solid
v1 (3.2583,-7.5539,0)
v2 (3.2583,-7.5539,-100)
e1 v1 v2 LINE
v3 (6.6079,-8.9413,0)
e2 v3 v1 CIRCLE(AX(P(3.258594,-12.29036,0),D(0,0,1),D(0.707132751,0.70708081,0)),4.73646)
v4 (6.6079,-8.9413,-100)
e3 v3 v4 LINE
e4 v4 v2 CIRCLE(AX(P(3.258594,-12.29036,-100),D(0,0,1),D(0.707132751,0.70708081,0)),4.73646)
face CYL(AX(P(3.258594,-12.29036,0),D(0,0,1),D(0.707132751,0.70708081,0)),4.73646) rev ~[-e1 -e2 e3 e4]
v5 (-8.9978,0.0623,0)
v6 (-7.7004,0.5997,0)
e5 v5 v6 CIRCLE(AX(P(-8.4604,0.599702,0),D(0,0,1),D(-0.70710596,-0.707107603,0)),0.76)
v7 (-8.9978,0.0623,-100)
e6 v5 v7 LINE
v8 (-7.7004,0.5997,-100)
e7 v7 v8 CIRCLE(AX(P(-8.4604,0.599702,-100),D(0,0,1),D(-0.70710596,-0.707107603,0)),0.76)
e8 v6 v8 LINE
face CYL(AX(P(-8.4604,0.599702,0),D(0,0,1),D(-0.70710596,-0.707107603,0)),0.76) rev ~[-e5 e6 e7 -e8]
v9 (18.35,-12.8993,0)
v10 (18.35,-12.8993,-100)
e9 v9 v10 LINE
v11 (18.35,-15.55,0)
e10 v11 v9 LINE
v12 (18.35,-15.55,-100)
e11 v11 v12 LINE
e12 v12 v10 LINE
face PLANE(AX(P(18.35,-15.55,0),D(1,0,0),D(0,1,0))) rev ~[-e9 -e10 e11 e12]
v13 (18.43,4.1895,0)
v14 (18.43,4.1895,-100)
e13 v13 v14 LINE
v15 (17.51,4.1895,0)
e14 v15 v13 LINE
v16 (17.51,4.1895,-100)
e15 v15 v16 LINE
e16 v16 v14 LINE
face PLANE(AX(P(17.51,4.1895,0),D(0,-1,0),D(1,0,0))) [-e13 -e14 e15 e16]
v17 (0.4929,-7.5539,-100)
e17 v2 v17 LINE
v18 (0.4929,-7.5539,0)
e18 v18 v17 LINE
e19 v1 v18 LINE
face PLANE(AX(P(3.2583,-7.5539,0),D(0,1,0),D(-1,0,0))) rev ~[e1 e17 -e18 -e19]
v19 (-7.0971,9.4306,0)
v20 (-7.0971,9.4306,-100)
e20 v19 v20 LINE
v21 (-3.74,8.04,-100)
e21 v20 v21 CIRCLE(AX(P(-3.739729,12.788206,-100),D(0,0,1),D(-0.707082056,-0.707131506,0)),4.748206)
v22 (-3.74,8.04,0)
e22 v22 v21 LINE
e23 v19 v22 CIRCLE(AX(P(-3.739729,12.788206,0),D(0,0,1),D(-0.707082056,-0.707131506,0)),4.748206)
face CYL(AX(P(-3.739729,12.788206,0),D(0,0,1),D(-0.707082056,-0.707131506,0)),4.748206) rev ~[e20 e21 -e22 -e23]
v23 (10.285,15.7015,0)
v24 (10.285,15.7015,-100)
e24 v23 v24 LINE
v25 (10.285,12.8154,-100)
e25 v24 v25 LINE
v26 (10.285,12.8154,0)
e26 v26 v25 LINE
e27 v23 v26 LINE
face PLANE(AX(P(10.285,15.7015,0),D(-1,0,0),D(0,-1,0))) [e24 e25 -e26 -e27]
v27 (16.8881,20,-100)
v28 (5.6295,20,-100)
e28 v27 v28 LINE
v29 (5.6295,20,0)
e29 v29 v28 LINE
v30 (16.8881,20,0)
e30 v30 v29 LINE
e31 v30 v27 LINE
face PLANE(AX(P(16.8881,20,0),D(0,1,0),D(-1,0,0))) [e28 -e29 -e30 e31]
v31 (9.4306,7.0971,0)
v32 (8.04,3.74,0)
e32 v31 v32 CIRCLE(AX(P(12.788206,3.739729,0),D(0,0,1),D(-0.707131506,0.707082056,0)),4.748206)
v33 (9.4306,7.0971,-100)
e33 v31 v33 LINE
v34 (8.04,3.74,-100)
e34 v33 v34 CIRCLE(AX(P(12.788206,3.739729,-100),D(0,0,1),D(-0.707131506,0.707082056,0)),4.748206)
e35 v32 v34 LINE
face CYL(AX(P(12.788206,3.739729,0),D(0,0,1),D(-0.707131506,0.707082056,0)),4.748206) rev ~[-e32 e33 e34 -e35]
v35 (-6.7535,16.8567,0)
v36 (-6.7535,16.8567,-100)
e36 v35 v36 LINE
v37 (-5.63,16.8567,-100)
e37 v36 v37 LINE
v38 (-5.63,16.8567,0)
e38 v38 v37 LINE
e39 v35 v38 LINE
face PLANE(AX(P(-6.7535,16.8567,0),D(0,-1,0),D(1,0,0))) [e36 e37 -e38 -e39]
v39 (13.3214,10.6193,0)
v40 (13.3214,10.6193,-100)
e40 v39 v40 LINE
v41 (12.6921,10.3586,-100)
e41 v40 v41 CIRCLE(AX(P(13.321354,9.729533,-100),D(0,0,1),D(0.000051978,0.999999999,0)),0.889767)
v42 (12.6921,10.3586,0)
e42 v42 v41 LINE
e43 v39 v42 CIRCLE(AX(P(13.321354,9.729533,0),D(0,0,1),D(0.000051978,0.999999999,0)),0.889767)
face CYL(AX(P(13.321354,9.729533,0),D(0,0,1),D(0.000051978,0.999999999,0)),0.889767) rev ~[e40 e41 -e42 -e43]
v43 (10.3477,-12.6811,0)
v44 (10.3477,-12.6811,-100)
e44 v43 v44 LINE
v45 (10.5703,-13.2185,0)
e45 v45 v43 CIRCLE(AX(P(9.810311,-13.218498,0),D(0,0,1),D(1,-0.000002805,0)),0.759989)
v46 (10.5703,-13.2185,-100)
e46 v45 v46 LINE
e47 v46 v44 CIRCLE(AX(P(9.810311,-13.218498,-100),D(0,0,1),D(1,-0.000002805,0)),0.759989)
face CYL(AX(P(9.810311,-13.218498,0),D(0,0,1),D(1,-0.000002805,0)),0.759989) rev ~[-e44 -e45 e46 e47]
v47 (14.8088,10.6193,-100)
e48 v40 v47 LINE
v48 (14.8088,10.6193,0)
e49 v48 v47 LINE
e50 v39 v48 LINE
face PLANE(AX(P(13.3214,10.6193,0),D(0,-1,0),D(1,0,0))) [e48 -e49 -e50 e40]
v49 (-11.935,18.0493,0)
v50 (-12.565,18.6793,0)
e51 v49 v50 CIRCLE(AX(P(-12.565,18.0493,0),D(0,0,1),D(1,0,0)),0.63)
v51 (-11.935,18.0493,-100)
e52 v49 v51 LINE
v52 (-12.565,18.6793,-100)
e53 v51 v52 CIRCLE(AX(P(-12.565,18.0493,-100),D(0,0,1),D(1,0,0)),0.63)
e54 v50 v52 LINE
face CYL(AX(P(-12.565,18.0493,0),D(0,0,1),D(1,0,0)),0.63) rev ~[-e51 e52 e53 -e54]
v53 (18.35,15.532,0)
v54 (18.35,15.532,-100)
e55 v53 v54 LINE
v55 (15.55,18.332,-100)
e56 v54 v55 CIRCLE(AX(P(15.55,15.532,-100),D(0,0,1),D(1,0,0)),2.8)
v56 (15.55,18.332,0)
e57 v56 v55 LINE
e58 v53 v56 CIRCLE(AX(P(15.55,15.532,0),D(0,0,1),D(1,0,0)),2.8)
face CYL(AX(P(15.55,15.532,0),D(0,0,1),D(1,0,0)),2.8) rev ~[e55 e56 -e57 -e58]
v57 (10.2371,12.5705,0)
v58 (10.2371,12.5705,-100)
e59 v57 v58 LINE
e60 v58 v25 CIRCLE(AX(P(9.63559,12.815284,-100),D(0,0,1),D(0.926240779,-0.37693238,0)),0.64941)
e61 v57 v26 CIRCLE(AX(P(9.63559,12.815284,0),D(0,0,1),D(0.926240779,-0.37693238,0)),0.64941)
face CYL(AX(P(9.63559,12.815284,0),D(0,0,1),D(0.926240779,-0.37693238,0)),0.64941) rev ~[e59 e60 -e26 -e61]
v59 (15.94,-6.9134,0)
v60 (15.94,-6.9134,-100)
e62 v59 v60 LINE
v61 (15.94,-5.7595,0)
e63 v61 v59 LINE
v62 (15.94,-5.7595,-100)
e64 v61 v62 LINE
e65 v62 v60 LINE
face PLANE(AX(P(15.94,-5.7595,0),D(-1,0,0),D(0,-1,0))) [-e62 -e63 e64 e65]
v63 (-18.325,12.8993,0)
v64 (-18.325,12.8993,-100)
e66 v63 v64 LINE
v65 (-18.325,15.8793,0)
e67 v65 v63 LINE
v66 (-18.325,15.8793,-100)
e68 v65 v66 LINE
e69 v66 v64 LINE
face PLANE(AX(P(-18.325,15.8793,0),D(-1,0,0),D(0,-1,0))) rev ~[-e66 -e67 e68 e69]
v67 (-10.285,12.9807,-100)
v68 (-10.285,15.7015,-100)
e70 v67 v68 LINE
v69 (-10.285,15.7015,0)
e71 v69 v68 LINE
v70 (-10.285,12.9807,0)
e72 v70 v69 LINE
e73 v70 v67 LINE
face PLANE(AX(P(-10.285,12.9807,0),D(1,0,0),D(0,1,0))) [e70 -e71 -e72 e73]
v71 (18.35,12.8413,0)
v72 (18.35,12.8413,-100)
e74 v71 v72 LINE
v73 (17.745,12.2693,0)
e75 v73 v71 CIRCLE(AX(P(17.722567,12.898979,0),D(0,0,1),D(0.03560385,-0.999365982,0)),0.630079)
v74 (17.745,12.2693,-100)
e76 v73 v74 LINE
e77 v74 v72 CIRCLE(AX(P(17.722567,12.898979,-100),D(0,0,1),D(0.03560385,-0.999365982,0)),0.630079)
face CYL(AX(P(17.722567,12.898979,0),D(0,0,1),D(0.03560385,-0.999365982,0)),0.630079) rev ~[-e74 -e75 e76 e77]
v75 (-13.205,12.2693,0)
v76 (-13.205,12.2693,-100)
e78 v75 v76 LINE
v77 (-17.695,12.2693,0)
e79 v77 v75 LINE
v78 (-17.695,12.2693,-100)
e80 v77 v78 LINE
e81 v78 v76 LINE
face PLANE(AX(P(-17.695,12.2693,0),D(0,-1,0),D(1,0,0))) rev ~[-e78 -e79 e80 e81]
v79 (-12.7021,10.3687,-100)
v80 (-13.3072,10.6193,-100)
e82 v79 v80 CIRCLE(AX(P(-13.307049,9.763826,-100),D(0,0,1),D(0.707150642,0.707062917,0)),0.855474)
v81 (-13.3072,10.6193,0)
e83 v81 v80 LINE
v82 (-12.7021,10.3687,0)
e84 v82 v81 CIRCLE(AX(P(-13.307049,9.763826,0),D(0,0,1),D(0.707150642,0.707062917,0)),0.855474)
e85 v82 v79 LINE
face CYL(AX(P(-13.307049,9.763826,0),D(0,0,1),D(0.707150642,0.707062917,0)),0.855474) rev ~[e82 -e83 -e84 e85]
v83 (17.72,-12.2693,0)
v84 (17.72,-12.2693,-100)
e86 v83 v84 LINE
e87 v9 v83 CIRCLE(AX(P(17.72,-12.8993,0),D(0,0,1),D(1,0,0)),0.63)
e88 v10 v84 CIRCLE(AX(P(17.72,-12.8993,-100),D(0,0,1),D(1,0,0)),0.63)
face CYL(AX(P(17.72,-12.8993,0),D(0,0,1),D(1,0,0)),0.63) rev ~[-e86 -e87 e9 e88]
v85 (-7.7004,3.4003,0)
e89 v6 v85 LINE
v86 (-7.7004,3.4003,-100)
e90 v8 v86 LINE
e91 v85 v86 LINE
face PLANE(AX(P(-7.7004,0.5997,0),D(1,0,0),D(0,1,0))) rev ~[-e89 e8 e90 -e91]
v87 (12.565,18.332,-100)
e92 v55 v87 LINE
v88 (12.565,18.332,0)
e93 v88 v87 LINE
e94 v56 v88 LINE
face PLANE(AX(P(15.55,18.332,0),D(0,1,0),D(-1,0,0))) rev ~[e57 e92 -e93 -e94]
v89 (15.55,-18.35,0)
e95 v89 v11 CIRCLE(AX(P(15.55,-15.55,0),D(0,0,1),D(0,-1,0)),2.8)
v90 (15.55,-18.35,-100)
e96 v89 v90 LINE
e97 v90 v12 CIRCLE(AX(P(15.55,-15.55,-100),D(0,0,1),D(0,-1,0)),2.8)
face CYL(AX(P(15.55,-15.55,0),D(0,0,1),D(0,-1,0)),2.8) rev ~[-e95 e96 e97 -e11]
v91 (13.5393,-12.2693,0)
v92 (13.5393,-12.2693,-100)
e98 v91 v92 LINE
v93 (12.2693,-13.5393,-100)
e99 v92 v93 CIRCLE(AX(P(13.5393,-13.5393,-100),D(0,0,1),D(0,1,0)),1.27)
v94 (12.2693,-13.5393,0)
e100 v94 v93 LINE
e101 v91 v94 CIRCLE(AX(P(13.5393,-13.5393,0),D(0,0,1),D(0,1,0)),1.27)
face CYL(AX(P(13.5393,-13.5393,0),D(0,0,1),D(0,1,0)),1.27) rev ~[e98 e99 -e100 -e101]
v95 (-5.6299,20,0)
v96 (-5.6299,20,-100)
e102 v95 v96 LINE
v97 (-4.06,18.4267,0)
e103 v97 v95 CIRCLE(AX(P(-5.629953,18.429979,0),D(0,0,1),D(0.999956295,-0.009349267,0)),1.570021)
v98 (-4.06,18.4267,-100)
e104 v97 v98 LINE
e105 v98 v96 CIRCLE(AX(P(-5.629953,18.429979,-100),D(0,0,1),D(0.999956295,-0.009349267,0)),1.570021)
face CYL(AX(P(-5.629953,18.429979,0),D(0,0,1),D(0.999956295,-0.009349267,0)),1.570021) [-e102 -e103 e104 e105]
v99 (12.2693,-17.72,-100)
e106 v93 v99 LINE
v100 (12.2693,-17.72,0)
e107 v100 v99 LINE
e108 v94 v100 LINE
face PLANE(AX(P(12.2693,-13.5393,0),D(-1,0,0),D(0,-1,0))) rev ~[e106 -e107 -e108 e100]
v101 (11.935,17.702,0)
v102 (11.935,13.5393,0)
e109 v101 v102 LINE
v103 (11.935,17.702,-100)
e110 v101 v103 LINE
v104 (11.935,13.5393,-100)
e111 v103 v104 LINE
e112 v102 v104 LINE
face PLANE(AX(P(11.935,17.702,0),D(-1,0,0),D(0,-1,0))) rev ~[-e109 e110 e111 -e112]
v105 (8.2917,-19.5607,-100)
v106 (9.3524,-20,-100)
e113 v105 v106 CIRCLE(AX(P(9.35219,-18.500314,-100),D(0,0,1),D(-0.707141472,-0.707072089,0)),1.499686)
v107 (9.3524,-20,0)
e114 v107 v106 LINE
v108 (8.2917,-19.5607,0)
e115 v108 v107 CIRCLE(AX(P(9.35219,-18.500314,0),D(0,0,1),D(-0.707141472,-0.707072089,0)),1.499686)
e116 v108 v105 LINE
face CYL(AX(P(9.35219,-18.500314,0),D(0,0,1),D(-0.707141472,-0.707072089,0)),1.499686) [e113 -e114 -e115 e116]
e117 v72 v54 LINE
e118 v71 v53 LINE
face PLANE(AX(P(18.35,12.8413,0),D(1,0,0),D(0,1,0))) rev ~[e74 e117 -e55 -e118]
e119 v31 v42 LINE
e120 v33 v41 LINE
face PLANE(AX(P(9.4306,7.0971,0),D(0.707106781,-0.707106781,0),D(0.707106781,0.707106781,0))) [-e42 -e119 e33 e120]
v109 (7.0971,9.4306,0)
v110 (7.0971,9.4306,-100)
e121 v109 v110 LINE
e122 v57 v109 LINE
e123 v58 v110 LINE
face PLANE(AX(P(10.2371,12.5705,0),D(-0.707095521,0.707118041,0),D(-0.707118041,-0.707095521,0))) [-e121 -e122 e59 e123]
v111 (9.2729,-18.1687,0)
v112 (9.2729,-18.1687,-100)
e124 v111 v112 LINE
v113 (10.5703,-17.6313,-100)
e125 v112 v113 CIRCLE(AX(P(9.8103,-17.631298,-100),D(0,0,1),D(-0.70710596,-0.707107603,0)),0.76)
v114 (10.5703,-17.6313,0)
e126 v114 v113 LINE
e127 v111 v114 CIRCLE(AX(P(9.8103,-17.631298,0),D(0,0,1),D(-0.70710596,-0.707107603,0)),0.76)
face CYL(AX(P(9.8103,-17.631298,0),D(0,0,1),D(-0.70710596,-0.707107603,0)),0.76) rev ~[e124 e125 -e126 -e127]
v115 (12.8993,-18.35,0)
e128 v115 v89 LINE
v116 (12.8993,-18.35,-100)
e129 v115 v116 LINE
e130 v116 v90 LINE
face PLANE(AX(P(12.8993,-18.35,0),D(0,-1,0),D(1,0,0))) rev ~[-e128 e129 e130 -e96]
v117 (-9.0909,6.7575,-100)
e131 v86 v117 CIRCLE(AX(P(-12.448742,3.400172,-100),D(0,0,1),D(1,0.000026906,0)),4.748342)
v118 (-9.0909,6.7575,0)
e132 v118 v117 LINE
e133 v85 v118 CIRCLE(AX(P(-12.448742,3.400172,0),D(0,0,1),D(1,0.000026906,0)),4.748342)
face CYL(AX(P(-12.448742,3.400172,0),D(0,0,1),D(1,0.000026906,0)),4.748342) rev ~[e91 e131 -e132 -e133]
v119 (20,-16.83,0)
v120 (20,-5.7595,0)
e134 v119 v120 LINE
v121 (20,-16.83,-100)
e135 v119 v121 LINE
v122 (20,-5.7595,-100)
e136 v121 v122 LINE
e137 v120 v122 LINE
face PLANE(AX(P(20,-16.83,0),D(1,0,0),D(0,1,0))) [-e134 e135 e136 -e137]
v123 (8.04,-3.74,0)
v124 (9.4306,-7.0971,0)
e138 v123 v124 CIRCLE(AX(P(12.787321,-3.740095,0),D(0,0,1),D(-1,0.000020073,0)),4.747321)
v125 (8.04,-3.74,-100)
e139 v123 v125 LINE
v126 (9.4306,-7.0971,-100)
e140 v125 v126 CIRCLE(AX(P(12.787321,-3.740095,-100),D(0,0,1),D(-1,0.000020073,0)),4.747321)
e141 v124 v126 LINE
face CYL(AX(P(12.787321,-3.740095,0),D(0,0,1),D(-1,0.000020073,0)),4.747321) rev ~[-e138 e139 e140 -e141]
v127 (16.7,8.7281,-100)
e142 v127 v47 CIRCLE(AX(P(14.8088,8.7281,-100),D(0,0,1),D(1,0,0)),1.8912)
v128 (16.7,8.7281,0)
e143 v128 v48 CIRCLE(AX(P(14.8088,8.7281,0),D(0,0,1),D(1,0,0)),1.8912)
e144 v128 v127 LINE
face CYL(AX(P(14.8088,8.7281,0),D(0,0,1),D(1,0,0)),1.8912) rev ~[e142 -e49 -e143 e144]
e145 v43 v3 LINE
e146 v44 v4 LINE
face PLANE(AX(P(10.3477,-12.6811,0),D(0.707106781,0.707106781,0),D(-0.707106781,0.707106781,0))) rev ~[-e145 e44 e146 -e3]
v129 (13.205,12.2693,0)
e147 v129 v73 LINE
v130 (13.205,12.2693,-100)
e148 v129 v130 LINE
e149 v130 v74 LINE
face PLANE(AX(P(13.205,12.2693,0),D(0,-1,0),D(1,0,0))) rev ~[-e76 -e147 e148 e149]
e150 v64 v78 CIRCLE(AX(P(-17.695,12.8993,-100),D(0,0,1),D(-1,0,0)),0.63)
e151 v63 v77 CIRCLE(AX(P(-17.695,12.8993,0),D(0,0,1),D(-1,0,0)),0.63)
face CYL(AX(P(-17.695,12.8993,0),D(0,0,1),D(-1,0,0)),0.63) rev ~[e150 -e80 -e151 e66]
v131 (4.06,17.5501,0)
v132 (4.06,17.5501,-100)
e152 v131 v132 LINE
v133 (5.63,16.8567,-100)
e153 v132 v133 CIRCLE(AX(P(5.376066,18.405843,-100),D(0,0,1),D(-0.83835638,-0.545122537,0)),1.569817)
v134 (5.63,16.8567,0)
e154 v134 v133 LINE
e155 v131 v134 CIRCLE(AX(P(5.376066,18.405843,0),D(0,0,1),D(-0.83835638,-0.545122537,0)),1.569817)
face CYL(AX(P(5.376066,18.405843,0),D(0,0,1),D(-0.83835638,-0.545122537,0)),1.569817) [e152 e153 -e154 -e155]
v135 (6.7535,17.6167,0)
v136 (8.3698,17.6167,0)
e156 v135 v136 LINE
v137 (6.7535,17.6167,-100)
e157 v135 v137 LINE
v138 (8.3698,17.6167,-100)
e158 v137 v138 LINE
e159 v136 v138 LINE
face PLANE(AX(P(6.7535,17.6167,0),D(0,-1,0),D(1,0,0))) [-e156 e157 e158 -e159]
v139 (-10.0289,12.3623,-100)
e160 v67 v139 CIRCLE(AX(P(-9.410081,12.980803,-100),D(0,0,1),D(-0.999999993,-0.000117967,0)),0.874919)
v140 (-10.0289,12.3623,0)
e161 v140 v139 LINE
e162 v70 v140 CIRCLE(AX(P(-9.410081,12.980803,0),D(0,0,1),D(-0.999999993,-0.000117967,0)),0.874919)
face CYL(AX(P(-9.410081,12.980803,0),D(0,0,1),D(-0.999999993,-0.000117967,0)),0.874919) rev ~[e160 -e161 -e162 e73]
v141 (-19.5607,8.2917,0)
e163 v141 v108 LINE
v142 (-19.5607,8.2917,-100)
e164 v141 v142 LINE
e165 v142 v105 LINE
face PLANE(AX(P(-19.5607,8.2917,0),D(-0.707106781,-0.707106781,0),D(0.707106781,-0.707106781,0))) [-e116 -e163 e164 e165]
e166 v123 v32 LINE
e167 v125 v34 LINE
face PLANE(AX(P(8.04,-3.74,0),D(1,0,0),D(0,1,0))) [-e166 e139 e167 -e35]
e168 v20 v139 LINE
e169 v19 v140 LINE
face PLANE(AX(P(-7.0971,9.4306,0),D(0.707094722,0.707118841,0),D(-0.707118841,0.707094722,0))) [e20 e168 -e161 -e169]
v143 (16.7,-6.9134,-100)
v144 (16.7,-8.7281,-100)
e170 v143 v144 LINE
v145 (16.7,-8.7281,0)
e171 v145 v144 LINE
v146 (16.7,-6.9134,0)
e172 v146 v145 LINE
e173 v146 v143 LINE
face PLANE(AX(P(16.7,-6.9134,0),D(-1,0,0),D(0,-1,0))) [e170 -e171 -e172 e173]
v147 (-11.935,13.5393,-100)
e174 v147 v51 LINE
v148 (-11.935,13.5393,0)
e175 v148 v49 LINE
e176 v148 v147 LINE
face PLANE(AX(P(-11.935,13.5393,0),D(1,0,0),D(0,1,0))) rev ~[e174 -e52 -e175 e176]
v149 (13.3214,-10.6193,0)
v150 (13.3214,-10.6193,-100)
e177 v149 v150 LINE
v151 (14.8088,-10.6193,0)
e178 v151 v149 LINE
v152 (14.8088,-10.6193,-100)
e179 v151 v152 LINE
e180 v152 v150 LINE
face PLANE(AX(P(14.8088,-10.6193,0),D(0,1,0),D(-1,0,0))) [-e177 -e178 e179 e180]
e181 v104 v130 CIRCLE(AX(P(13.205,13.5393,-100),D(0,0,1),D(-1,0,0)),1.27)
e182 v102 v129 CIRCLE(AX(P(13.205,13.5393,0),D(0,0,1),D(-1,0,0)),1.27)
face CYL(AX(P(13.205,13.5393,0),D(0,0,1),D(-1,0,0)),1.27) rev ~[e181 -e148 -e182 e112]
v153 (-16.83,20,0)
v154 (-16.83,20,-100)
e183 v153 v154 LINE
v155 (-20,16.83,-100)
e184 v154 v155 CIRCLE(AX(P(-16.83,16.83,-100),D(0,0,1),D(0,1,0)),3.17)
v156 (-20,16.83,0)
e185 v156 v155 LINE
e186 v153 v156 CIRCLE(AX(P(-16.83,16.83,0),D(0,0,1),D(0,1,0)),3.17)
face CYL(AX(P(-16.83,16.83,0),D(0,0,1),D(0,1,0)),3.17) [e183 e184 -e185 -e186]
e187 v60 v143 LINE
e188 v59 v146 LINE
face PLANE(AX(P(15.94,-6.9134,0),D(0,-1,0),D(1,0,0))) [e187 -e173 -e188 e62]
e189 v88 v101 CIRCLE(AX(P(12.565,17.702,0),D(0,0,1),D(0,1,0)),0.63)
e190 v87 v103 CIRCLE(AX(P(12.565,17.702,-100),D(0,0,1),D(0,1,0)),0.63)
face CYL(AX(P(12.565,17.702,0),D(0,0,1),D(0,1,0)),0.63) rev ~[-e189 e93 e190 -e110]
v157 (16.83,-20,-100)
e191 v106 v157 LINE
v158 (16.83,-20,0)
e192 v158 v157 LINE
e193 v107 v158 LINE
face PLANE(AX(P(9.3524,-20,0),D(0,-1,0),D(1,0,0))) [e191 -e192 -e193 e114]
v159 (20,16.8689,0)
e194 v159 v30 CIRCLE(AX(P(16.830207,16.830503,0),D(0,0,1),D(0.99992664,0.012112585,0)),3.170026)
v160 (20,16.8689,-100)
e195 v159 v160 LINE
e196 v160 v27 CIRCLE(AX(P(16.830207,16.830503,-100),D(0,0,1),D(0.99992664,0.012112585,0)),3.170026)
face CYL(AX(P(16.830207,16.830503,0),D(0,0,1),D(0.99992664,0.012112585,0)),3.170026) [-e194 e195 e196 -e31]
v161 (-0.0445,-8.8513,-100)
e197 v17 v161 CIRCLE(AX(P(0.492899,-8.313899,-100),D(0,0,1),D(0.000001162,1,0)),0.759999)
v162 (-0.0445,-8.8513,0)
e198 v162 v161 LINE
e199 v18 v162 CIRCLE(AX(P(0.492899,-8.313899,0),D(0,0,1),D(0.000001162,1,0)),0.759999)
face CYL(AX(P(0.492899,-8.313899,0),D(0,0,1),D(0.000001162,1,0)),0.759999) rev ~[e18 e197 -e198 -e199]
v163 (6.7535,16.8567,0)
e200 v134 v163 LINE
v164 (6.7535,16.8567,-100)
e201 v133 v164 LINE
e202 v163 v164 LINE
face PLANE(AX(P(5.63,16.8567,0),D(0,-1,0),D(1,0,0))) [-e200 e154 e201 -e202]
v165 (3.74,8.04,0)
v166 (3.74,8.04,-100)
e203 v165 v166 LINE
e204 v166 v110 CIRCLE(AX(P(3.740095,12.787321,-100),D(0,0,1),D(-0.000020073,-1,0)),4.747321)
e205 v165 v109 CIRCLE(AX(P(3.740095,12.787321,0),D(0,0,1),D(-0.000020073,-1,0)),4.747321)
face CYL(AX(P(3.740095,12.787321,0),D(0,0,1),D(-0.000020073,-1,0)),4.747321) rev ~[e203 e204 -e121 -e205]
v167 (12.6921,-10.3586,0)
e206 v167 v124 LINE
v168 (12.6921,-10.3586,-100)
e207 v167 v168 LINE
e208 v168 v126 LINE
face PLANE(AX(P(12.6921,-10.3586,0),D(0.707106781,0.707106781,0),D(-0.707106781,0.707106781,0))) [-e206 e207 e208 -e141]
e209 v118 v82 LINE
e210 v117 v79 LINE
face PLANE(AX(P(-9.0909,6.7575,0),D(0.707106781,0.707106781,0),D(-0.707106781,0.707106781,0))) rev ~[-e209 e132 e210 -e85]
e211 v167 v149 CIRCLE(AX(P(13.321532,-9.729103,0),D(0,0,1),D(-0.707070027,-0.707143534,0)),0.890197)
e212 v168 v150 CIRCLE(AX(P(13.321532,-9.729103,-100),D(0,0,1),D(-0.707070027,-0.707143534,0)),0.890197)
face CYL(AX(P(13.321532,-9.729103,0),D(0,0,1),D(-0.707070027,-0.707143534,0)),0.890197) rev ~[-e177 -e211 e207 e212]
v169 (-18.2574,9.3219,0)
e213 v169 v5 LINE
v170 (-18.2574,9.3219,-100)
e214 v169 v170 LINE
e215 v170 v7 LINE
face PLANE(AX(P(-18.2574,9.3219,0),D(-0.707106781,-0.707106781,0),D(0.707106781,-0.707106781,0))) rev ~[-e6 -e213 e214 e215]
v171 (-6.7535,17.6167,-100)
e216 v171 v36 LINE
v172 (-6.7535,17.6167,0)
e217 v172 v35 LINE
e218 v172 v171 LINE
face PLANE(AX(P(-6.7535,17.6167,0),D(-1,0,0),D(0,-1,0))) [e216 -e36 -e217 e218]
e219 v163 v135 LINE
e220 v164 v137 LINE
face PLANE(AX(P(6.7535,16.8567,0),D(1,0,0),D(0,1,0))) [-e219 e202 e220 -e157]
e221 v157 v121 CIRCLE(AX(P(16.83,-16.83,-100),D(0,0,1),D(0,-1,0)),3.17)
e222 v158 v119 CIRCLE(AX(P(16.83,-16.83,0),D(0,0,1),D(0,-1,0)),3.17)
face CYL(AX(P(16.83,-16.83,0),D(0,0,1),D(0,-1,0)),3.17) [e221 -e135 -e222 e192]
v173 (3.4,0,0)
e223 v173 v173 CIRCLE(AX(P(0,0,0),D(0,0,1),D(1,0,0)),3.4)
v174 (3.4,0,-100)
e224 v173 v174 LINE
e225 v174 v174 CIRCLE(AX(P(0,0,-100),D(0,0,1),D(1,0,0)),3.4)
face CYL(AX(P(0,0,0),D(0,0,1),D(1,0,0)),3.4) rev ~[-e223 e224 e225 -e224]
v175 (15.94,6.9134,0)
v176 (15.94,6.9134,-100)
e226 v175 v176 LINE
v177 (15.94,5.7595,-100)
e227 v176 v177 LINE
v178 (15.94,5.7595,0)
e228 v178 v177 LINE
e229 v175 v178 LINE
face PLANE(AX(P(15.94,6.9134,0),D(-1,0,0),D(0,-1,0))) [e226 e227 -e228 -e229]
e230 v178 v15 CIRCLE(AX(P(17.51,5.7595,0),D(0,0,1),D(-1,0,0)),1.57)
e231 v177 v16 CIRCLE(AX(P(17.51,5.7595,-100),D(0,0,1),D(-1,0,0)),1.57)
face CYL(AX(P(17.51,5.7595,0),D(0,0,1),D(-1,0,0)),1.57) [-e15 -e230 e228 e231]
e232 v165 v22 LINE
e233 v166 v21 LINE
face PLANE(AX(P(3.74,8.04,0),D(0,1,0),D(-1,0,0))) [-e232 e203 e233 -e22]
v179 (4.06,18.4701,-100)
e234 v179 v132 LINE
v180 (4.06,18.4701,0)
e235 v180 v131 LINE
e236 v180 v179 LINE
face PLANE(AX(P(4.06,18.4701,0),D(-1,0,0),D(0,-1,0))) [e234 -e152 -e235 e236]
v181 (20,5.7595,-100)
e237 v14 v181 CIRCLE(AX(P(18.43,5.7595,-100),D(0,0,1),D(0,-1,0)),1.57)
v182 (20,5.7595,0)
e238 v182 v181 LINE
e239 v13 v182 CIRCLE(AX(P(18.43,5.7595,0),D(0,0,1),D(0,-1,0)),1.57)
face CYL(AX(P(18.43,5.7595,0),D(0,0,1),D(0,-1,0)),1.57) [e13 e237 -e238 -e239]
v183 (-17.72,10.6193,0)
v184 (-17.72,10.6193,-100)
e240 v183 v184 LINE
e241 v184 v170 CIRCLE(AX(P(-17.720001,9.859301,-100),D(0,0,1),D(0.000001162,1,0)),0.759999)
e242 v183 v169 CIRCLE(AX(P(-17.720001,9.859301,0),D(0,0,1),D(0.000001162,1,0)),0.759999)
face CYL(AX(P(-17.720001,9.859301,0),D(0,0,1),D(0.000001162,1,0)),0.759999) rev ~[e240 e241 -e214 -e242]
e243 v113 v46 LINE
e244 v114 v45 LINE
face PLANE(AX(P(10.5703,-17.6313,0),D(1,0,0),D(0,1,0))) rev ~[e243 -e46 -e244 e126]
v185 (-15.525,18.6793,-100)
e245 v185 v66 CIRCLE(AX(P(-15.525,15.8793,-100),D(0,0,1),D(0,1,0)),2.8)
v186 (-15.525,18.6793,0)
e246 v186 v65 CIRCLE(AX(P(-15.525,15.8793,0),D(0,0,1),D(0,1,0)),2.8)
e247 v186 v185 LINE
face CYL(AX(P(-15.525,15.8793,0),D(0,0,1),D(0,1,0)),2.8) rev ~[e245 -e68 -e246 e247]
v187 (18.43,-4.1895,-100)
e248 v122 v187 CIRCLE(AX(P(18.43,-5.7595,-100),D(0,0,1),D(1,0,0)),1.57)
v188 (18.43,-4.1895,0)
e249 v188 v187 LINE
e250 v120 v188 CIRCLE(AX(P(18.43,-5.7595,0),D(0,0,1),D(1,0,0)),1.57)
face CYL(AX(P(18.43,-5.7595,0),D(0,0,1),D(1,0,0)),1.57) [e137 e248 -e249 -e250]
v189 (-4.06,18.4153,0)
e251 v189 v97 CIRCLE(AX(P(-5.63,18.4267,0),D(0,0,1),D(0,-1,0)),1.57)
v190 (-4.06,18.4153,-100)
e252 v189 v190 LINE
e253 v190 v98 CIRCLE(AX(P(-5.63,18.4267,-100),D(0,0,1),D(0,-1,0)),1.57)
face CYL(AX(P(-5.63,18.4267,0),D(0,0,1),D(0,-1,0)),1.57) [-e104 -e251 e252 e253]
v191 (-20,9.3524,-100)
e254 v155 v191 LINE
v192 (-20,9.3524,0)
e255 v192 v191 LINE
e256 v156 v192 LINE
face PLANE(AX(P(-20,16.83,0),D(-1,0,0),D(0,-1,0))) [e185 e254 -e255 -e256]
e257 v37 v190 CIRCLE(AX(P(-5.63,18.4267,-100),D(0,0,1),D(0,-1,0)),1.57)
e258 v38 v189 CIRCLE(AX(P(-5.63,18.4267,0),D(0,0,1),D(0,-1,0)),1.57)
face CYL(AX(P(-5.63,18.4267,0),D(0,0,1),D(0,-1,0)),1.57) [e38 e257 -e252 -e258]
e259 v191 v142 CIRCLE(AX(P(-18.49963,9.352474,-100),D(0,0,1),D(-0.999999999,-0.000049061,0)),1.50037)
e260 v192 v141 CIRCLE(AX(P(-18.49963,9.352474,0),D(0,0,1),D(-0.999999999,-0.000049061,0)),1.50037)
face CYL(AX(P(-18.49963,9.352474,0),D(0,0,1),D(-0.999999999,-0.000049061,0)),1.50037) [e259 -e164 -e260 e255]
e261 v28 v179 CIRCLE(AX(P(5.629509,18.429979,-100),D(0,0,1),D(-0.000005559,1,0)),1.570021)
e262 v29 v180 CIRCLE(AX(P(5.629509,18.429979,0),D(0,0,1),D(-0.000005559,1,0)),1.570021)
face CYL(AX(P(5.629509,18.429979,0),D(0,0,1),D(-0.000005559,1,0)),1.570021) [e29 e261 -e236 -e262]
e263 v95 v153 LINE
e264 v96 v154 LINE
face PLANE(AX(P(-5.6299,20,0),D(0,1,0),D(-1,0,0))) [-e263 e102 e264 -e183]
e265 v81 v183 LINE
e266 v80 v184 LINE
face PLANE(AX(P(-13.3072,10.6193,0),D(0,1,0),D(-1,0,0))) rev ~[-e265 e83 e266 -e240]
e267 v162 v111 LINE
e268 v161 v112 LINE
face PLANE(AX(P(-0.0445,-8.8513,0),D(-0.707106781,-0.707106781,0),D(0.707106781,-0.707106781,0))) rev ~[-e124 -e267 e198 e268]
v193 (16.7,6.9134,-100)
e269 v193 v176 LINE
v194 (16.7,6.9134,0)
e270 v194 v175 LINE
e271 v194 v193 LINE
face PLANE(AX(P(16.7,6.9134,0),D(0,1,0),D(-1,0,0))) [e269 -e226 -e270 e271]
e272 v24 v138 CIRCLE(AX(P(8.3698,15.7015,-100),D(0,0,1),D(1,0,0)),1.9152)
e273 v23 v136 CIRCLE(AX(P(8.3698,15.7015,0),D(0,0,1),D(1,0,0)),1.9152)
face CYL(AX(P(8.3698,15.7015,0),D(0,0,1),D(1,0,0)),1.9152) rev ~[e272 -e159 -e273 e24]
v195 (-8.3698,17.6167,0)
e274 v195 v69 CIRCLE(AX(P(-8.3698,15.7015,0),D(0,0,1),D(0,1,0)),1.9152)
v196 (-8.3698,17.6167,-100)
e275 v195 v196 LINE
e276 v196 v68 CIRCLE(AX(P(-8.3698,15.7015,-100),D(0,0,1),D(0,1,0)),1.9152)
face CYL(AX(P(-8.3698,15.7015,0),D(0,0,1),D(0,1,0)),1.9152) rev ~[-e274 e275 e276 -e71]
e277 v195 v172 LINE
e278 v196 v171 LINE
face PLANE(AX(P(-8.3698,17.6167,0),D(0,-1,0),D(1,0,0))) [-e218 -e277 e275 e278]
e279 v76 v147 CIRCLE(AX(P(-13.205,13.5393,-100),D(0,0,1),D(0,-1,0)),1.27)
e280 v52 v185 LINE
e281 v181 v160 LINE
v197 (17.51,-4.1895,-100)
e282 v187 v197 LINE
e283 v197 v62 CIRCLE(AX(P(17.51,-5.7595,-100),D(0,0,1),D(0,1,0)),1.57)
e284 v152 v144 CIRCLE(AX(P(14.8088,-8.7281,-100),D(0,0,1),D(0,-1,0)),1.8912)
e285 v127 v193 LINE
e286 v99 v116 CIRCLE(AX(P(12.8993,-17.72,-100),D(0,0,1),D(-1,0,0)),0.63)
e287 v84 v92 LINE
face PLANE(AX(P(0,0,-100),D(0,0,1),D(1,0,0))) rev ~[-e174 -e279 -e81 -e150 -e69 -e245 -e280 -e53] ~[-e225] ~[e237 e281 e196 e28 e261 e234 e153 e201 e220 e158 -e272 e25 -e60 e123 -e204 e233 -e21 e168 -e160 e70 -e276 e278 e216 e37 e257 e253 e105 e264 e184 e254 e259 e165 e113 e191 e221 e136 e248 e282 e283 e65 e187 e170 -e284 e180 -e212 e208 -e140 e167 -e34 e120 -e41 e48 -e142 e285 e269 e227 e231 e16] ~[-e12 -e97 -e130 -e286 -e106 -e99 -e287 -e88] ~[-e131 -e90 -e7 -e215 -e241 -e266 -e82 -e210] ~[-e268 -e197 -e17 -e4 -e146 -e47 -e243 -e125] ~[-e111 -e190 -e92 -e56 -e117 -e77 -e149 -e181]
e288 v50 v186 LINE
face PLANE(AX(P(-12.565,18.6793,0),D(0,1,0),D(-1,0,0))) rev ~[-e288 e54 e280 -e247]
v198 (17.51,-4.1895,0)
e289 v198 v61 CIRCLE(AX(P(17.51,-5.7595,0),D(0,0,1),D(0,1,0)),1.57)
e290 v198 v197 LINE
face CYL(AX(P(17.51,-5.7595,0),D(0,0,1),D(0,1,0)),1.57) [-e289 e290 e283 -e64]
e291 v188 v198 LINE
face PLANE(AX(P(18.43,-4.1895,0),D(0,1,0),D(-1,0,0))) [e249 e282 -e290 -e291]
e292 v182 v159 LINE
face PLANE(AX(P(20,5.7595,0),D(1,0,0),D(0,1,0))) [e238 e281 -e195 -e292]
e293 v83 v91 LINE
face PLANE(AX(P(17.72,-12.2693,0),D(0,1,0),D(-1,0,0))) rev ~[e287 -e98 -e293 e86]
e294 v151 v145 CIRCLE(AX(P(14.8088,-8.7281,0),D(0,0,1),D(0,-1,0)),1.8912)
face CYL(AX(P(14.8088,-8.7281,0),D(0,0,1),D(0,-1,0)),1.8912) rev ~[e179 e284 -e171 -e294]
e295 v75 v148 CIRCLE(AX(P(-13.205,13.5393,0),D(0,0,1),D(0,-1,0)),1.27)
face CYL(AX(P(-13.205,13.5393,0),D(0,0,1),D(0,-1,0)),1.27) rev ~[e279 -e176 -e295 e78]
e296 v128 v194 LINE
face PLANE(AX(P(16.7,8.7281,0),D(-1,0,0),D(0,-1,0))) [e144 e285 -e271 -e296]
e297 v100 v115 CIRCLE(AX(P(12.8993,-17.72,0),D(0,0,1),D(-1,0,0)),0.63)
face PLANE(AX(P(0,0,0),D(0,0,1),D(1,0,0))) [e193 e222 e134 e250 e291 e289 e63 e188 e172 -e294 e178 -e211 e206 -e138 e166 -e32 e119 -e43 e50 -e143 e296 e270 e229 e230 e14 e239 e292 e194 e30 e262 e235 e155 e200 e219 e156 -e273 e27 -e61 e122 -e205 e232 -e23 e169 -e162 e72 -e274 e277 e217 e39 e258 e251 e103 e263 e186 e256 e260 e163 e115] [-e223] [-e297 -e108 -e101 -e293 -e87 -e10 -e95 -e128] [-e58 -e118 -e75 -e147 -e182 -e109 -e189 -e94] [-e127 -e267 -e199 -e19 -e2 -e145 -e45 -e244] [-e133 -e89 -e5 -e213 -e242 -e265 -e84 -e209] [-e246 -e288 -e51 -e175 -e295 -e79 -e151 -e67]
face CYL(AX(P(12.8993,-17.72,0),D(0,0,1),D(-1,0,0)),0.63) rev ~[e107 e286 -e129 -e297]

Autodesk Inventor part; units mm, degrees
ref_plane "YZ Plane" through (0, 0, 0) normal (1, 0, 0) x (0, 1, 0)
ref_plane "XZ Plane" through (0, 0, 0) normal (0, 1, 0) x (-1, 0, 0)
ref_plane "XY Plane" through (0, 0, 0) normal (0, 0, 1) x (1, 0, 0)
sketch "Sketch1" plane through (0, 0, 0) normal (0, 0, 1) x (1, 0, 0)
  circle A0 centre (0, 0) radius 3.4
  arc A1 (-13.205, 12.2693) -> (-11.935, 13.5393) centre (-13.205, 13.5393) ccw
  line L0 (-17.695, 12.2693) -> (-13.205, 12.2693)
  arc A2 (-18.325, 12.8993) -> (-17.695, 12.2693) centre (-17.695, 12.8993) ccw
  line L1 (-18.325, 15.8793) -> (-18.325, 12.8993)
  arc A3 (-15.525, 18.6793) -> (-18.325, 15.8793) centre (-15.525, 15.8793) ccw
  line L2 (-12.565, 18.6793) -> (-15.525, 18.6793)
  arc A4 (-11.935, 18.0493) -> (-12.565, 18.6793) centre (-12.565, 18.0493) ccw
  line L3 (-11.935, 13.5393) -> (-11.935, 18.0493)
  arc A5 (-7.7004, 3.4003) -> (-9.0909, 6.7575) centre (-12.4481, 3.4003) ccw
  line L4 (-7.7004, 0.5997) -> (-7.7004, 3.4003)
  arc A6 (-8.9978, 0.0623) -> (-7.7004, 0.5997) centre (-8.4604, 0.5997) ccw
  line L5 (-18.2574, 9.3219) -> (-8.9978, 0.0623)
  arc A7 (-17.72, 10.6193) -> (-18.2574, 9.3219) centre (-17.72, 9.8593) ccw
  line L6 (-13.3072, 10.6193) -> (-17.72, 10.6193)
  arc A8 (-12.7021, 10.3687) -> (-13.3072, 10.6193) centre (-13.3072, 9.7636) ccw
  line L7 (-9.0909, 6.7575) -> (-12.7021, 10.3687)
  arc A9 (10.5703, -13.2185) -> (10.3477, -12.6811) centre (9.8103, -13.2185) ccw
  line L8 (10.5703, -17.6313) -> (10.5703, -13.2185)
  arc A10 (9.2729, -18.1687) -> (10.5703, -17.6313) centre (9.8103, -17.6313) ccw
  line L9 (-0.0445, -8.8513) -> (9.2729, -18.1687)
  arc A11 (0.4929, -7.5539) -> (-0.0445, -8.8513) centre (0.4929, -8.3139) ccw
  line L10 (3.2583, -7.5539) -> (0.4929, -7.5539)
  arc A12 (6.6079, -8.9413) -> (3.2583, -7.5539) centre (3.2583, -12.2908) ccw
  line L11 (10.3477, -12.6811) -> (6.6079, -8.9413)
  arc A13 (12.2693, -17.72) -> (12.8993, -18.35) centre (12.8993, -17.72) ccw
  line L12 (12.2693, -13.5393) -> (12.2693, -17.72)
  arc A14 (13.5393, -12.2693) -> (12.2693, -13.5393) centre (13.5393, -13.5393) ccw
  line L13 (17.72, -12.2693) -> (13.5393, -12.2693)
  arc A15 (18.35, -12.8993) -> (17.72, -12.2693) centre (17.72, -12.8993) ccw
  line L14 (18.35, -15.55) -> (18.35, -12.8993)
  arc A16 (15.55, -18.35) -> (18.35, -15.55) centre (15.55, -15.55) ccw
  line L15 (12.8993, -18.35) -> (15.55, -18.35)
  arc A17 (12.565, 18.332) -> (11.935, 17.702) centre (12.565, 17.702) ccw
  line L16 (15.55, 18.332) -> (12.565, 18.332)
  arc A18 (18.35, 15.532) -> (15.55, 18.332) centre (15.55, 15.532) ccw
  line L17 (18.35, 12.8413) -> (18.35, 15.532)
  arc A19 (17.745, 12.2693) -> (18.35, 12.8413) centre (17.7226, 12.8989) ccw
  line L18 (13.205, 12.2693) -> (17.745, 12.2693)
  arc A20 (11.935, 13.5393) -> (13.205, 12.2693) centre (13.205, 13.5393) ccw
  line L19 (11.935, 17.702) -> (11.935, 13.5393)
  arc A21 (8.04, -3.74) -> (9.4306, -7.0971) centre (12.7878, -3.74) ccw
  line L20 (8.04, -3.74) -> (8.04, 3.74)
  arc A22 (9.4306, 7.0971) -> (8.04, 3.74) centre (12.7878, 3.74) ccw
  line L21 (9.4306, 7.0971) -> (12.6921, 10.3586)
  arc A23 (13.3214, 10.6193) -> (12.6921, 10.3586) centre (13.3214, 9.7293) ccw
  line L22 (13.3214, 10.6193) -> (14.8088, 10.6193)
  arc A24 (16.7, 8.7281) -> (14.8088, 10.6193) centre (14.8088, 8.7281) ccw
  line L23 (16.7, 8.7281) -> (16.7, 6.9134)
  line L24 (16.7, 6.9134) -> (15.94, 6.9134)
  line L25 (15.94, 6.9134) -> (15.94, 5.7595)
  arc A25 (15.94, 5.7595) -> (17.51, 4.1895) centre (17.51, 5.7595) ccw
  line L26 (17.51, 4.1895) -> (18.43, 4.1895)
  arc A26 (18.43, 4.1895) -> (20, 5.7595) centre (18.43, 5.7595) ccw
  line L27 (20, 5.7595) -> (20, 16.8689)
  arc A27 (20, 16.8689) -> (16.8881, 20) centre (16.8302, 16.8305) ccw
  line L28 (16.8881, 20) -> (5.6295, 20)
  arc A28 (5.6295, 20) -> (4.06, 18.4701) centre (5.6295, 18.43) ccw
  line L29 (4.06, 18.4701) -> (4.06, 17.5501)
  arc A29 (4.06, 17.5501) -> (5.63, 16.8567) centre (5.3762, 18.406) ccw
  line L30 (5.63, 16.8567) -> (6.7535, 16.8567)
  line L31 (6.7535, 16.8567) -> (6.7535, 17.6167)
  line L32 (6.7535, 17.6167) -> (8.3698, 17.6167)
  arc A30 (10.285, 15.7015) -> (8.3698, 17.6167) centre (8.3698, 15.7015) ccw
  line L33 (10.285, 15.7015) -> (10.285, 12.8154)
  arc A31 (10.2371, 12.5705) -> (10.285, 12.8154) centre (9.6352, 12.8154) ccw
  line L34 (10.2371, 12.5705) -> (7.0971, 9.4306)
  arc A32 (3.74, 8.04) -> (7.0971, 9.4306) centre (3.74, 12.7878) ccw
  line L35 (3.74, 8.04) -> (-3.74, 8.04)
  arc A33 (-7.0971, 9.4306) -> (-3.74, 8.04) centre (-3.74, 12.7878) ccw
  line L36 (-7.0971, 9.4306) -> (-10.0289, 12.3623)
  arc A34 (-10.285, 12.9807) -> (-10.0289, 12.3623) centre (-9.4106, 12.9807) ccw
  line L37 (-10.285, 12.9807) -> (-10.285, 15.7015)
  arc A35 (-8.3698, 17.6167) -> (-10.285, 15.7015) centre (-8.3698, 15.7015) ccw
  line L38 (-8.3698, 17.6167) -> (-6.7535, 17.6167)
  line L39 (-6.7535, 17.6167) -> (-6.7535, 16.8567)
  line L40 (-6.7535, 16.8567) -> (-5.63, 16.8567)
  arc A36 (-5.63, 16.8567) -> (-4.06, 18.4267) centre (-5.63, 18.4267) ccw
  line L41 (-4.06, 18.4267) -> (-4.06, 18.4153)
  arc A37 (-4.06, 18.4153) -> (-5.6299, 20) centre (-5.6299, 18.43) ccw
  line L42 (-5.6299, 20) -> (-16.83, 20)
  arc A38 (-16.83, 20) -> (-20, 16.83) centre (-16.83, 16.83) ccw
  line L43 (-20, 16.83) -> (-20, 9.3524)
  arc A39 (-20, 9.3524) -> (-19.5607, 8.2917) centre (-18.5, 9.3524) ccw
  line L44 (-19.5607, 8.2917) -> (8.2917, -19.5607)
  arc A40 (8.2917, -19.5607) -> (9.3524, -20) centre (9.3524, -18.5) ccw
  line L45 (9.3524, -20) -> (16.83, -20)
  arc A41 (16.83, -20) -> (20, -16.83) centre (16.83, -16.83) ccw
  line L46 (20, -16.83) -> (20, -5.7595)
  arc A42 (20, -5.7595) -> (18.43, -4.1895) centre (18.43, -5.7595) ccw
  line L47 (18.43, -4.1895) -> (17.51, -4.1895)
  arc A43 (17.51, -4.1895) -> (15.94, -5.7595) centre (17.51, -5.7595) ccw
  line L48 (15.94, -5.7595) -> (15.94, -6.9134)
  line L49 (15.94, -6.9134) -> (16.7, -6.9134)
  line L50 (16.7, -6.9134) -> (16.7, -8.7281)
  arc A44 (14.8088, -10.6193) -> (16.7, -8.7281) centre (14.8088, -8.7281) ccw
  line L51 (14.8088, -10.6193) -> (13.3214, -10.6193)
  arc A45 (12.6921, -10.3586) -> (13.3214, -10.6193) centre (13.3214, -9.7293) ccw
  line L52 (12.6921, -10.3586) -> (9.4306, -7.0971)
extrude "Extrusion1" add sketch "Sketch1" against normal blind 100
properties part number "40-4045-LITE-BLACK-FB"
